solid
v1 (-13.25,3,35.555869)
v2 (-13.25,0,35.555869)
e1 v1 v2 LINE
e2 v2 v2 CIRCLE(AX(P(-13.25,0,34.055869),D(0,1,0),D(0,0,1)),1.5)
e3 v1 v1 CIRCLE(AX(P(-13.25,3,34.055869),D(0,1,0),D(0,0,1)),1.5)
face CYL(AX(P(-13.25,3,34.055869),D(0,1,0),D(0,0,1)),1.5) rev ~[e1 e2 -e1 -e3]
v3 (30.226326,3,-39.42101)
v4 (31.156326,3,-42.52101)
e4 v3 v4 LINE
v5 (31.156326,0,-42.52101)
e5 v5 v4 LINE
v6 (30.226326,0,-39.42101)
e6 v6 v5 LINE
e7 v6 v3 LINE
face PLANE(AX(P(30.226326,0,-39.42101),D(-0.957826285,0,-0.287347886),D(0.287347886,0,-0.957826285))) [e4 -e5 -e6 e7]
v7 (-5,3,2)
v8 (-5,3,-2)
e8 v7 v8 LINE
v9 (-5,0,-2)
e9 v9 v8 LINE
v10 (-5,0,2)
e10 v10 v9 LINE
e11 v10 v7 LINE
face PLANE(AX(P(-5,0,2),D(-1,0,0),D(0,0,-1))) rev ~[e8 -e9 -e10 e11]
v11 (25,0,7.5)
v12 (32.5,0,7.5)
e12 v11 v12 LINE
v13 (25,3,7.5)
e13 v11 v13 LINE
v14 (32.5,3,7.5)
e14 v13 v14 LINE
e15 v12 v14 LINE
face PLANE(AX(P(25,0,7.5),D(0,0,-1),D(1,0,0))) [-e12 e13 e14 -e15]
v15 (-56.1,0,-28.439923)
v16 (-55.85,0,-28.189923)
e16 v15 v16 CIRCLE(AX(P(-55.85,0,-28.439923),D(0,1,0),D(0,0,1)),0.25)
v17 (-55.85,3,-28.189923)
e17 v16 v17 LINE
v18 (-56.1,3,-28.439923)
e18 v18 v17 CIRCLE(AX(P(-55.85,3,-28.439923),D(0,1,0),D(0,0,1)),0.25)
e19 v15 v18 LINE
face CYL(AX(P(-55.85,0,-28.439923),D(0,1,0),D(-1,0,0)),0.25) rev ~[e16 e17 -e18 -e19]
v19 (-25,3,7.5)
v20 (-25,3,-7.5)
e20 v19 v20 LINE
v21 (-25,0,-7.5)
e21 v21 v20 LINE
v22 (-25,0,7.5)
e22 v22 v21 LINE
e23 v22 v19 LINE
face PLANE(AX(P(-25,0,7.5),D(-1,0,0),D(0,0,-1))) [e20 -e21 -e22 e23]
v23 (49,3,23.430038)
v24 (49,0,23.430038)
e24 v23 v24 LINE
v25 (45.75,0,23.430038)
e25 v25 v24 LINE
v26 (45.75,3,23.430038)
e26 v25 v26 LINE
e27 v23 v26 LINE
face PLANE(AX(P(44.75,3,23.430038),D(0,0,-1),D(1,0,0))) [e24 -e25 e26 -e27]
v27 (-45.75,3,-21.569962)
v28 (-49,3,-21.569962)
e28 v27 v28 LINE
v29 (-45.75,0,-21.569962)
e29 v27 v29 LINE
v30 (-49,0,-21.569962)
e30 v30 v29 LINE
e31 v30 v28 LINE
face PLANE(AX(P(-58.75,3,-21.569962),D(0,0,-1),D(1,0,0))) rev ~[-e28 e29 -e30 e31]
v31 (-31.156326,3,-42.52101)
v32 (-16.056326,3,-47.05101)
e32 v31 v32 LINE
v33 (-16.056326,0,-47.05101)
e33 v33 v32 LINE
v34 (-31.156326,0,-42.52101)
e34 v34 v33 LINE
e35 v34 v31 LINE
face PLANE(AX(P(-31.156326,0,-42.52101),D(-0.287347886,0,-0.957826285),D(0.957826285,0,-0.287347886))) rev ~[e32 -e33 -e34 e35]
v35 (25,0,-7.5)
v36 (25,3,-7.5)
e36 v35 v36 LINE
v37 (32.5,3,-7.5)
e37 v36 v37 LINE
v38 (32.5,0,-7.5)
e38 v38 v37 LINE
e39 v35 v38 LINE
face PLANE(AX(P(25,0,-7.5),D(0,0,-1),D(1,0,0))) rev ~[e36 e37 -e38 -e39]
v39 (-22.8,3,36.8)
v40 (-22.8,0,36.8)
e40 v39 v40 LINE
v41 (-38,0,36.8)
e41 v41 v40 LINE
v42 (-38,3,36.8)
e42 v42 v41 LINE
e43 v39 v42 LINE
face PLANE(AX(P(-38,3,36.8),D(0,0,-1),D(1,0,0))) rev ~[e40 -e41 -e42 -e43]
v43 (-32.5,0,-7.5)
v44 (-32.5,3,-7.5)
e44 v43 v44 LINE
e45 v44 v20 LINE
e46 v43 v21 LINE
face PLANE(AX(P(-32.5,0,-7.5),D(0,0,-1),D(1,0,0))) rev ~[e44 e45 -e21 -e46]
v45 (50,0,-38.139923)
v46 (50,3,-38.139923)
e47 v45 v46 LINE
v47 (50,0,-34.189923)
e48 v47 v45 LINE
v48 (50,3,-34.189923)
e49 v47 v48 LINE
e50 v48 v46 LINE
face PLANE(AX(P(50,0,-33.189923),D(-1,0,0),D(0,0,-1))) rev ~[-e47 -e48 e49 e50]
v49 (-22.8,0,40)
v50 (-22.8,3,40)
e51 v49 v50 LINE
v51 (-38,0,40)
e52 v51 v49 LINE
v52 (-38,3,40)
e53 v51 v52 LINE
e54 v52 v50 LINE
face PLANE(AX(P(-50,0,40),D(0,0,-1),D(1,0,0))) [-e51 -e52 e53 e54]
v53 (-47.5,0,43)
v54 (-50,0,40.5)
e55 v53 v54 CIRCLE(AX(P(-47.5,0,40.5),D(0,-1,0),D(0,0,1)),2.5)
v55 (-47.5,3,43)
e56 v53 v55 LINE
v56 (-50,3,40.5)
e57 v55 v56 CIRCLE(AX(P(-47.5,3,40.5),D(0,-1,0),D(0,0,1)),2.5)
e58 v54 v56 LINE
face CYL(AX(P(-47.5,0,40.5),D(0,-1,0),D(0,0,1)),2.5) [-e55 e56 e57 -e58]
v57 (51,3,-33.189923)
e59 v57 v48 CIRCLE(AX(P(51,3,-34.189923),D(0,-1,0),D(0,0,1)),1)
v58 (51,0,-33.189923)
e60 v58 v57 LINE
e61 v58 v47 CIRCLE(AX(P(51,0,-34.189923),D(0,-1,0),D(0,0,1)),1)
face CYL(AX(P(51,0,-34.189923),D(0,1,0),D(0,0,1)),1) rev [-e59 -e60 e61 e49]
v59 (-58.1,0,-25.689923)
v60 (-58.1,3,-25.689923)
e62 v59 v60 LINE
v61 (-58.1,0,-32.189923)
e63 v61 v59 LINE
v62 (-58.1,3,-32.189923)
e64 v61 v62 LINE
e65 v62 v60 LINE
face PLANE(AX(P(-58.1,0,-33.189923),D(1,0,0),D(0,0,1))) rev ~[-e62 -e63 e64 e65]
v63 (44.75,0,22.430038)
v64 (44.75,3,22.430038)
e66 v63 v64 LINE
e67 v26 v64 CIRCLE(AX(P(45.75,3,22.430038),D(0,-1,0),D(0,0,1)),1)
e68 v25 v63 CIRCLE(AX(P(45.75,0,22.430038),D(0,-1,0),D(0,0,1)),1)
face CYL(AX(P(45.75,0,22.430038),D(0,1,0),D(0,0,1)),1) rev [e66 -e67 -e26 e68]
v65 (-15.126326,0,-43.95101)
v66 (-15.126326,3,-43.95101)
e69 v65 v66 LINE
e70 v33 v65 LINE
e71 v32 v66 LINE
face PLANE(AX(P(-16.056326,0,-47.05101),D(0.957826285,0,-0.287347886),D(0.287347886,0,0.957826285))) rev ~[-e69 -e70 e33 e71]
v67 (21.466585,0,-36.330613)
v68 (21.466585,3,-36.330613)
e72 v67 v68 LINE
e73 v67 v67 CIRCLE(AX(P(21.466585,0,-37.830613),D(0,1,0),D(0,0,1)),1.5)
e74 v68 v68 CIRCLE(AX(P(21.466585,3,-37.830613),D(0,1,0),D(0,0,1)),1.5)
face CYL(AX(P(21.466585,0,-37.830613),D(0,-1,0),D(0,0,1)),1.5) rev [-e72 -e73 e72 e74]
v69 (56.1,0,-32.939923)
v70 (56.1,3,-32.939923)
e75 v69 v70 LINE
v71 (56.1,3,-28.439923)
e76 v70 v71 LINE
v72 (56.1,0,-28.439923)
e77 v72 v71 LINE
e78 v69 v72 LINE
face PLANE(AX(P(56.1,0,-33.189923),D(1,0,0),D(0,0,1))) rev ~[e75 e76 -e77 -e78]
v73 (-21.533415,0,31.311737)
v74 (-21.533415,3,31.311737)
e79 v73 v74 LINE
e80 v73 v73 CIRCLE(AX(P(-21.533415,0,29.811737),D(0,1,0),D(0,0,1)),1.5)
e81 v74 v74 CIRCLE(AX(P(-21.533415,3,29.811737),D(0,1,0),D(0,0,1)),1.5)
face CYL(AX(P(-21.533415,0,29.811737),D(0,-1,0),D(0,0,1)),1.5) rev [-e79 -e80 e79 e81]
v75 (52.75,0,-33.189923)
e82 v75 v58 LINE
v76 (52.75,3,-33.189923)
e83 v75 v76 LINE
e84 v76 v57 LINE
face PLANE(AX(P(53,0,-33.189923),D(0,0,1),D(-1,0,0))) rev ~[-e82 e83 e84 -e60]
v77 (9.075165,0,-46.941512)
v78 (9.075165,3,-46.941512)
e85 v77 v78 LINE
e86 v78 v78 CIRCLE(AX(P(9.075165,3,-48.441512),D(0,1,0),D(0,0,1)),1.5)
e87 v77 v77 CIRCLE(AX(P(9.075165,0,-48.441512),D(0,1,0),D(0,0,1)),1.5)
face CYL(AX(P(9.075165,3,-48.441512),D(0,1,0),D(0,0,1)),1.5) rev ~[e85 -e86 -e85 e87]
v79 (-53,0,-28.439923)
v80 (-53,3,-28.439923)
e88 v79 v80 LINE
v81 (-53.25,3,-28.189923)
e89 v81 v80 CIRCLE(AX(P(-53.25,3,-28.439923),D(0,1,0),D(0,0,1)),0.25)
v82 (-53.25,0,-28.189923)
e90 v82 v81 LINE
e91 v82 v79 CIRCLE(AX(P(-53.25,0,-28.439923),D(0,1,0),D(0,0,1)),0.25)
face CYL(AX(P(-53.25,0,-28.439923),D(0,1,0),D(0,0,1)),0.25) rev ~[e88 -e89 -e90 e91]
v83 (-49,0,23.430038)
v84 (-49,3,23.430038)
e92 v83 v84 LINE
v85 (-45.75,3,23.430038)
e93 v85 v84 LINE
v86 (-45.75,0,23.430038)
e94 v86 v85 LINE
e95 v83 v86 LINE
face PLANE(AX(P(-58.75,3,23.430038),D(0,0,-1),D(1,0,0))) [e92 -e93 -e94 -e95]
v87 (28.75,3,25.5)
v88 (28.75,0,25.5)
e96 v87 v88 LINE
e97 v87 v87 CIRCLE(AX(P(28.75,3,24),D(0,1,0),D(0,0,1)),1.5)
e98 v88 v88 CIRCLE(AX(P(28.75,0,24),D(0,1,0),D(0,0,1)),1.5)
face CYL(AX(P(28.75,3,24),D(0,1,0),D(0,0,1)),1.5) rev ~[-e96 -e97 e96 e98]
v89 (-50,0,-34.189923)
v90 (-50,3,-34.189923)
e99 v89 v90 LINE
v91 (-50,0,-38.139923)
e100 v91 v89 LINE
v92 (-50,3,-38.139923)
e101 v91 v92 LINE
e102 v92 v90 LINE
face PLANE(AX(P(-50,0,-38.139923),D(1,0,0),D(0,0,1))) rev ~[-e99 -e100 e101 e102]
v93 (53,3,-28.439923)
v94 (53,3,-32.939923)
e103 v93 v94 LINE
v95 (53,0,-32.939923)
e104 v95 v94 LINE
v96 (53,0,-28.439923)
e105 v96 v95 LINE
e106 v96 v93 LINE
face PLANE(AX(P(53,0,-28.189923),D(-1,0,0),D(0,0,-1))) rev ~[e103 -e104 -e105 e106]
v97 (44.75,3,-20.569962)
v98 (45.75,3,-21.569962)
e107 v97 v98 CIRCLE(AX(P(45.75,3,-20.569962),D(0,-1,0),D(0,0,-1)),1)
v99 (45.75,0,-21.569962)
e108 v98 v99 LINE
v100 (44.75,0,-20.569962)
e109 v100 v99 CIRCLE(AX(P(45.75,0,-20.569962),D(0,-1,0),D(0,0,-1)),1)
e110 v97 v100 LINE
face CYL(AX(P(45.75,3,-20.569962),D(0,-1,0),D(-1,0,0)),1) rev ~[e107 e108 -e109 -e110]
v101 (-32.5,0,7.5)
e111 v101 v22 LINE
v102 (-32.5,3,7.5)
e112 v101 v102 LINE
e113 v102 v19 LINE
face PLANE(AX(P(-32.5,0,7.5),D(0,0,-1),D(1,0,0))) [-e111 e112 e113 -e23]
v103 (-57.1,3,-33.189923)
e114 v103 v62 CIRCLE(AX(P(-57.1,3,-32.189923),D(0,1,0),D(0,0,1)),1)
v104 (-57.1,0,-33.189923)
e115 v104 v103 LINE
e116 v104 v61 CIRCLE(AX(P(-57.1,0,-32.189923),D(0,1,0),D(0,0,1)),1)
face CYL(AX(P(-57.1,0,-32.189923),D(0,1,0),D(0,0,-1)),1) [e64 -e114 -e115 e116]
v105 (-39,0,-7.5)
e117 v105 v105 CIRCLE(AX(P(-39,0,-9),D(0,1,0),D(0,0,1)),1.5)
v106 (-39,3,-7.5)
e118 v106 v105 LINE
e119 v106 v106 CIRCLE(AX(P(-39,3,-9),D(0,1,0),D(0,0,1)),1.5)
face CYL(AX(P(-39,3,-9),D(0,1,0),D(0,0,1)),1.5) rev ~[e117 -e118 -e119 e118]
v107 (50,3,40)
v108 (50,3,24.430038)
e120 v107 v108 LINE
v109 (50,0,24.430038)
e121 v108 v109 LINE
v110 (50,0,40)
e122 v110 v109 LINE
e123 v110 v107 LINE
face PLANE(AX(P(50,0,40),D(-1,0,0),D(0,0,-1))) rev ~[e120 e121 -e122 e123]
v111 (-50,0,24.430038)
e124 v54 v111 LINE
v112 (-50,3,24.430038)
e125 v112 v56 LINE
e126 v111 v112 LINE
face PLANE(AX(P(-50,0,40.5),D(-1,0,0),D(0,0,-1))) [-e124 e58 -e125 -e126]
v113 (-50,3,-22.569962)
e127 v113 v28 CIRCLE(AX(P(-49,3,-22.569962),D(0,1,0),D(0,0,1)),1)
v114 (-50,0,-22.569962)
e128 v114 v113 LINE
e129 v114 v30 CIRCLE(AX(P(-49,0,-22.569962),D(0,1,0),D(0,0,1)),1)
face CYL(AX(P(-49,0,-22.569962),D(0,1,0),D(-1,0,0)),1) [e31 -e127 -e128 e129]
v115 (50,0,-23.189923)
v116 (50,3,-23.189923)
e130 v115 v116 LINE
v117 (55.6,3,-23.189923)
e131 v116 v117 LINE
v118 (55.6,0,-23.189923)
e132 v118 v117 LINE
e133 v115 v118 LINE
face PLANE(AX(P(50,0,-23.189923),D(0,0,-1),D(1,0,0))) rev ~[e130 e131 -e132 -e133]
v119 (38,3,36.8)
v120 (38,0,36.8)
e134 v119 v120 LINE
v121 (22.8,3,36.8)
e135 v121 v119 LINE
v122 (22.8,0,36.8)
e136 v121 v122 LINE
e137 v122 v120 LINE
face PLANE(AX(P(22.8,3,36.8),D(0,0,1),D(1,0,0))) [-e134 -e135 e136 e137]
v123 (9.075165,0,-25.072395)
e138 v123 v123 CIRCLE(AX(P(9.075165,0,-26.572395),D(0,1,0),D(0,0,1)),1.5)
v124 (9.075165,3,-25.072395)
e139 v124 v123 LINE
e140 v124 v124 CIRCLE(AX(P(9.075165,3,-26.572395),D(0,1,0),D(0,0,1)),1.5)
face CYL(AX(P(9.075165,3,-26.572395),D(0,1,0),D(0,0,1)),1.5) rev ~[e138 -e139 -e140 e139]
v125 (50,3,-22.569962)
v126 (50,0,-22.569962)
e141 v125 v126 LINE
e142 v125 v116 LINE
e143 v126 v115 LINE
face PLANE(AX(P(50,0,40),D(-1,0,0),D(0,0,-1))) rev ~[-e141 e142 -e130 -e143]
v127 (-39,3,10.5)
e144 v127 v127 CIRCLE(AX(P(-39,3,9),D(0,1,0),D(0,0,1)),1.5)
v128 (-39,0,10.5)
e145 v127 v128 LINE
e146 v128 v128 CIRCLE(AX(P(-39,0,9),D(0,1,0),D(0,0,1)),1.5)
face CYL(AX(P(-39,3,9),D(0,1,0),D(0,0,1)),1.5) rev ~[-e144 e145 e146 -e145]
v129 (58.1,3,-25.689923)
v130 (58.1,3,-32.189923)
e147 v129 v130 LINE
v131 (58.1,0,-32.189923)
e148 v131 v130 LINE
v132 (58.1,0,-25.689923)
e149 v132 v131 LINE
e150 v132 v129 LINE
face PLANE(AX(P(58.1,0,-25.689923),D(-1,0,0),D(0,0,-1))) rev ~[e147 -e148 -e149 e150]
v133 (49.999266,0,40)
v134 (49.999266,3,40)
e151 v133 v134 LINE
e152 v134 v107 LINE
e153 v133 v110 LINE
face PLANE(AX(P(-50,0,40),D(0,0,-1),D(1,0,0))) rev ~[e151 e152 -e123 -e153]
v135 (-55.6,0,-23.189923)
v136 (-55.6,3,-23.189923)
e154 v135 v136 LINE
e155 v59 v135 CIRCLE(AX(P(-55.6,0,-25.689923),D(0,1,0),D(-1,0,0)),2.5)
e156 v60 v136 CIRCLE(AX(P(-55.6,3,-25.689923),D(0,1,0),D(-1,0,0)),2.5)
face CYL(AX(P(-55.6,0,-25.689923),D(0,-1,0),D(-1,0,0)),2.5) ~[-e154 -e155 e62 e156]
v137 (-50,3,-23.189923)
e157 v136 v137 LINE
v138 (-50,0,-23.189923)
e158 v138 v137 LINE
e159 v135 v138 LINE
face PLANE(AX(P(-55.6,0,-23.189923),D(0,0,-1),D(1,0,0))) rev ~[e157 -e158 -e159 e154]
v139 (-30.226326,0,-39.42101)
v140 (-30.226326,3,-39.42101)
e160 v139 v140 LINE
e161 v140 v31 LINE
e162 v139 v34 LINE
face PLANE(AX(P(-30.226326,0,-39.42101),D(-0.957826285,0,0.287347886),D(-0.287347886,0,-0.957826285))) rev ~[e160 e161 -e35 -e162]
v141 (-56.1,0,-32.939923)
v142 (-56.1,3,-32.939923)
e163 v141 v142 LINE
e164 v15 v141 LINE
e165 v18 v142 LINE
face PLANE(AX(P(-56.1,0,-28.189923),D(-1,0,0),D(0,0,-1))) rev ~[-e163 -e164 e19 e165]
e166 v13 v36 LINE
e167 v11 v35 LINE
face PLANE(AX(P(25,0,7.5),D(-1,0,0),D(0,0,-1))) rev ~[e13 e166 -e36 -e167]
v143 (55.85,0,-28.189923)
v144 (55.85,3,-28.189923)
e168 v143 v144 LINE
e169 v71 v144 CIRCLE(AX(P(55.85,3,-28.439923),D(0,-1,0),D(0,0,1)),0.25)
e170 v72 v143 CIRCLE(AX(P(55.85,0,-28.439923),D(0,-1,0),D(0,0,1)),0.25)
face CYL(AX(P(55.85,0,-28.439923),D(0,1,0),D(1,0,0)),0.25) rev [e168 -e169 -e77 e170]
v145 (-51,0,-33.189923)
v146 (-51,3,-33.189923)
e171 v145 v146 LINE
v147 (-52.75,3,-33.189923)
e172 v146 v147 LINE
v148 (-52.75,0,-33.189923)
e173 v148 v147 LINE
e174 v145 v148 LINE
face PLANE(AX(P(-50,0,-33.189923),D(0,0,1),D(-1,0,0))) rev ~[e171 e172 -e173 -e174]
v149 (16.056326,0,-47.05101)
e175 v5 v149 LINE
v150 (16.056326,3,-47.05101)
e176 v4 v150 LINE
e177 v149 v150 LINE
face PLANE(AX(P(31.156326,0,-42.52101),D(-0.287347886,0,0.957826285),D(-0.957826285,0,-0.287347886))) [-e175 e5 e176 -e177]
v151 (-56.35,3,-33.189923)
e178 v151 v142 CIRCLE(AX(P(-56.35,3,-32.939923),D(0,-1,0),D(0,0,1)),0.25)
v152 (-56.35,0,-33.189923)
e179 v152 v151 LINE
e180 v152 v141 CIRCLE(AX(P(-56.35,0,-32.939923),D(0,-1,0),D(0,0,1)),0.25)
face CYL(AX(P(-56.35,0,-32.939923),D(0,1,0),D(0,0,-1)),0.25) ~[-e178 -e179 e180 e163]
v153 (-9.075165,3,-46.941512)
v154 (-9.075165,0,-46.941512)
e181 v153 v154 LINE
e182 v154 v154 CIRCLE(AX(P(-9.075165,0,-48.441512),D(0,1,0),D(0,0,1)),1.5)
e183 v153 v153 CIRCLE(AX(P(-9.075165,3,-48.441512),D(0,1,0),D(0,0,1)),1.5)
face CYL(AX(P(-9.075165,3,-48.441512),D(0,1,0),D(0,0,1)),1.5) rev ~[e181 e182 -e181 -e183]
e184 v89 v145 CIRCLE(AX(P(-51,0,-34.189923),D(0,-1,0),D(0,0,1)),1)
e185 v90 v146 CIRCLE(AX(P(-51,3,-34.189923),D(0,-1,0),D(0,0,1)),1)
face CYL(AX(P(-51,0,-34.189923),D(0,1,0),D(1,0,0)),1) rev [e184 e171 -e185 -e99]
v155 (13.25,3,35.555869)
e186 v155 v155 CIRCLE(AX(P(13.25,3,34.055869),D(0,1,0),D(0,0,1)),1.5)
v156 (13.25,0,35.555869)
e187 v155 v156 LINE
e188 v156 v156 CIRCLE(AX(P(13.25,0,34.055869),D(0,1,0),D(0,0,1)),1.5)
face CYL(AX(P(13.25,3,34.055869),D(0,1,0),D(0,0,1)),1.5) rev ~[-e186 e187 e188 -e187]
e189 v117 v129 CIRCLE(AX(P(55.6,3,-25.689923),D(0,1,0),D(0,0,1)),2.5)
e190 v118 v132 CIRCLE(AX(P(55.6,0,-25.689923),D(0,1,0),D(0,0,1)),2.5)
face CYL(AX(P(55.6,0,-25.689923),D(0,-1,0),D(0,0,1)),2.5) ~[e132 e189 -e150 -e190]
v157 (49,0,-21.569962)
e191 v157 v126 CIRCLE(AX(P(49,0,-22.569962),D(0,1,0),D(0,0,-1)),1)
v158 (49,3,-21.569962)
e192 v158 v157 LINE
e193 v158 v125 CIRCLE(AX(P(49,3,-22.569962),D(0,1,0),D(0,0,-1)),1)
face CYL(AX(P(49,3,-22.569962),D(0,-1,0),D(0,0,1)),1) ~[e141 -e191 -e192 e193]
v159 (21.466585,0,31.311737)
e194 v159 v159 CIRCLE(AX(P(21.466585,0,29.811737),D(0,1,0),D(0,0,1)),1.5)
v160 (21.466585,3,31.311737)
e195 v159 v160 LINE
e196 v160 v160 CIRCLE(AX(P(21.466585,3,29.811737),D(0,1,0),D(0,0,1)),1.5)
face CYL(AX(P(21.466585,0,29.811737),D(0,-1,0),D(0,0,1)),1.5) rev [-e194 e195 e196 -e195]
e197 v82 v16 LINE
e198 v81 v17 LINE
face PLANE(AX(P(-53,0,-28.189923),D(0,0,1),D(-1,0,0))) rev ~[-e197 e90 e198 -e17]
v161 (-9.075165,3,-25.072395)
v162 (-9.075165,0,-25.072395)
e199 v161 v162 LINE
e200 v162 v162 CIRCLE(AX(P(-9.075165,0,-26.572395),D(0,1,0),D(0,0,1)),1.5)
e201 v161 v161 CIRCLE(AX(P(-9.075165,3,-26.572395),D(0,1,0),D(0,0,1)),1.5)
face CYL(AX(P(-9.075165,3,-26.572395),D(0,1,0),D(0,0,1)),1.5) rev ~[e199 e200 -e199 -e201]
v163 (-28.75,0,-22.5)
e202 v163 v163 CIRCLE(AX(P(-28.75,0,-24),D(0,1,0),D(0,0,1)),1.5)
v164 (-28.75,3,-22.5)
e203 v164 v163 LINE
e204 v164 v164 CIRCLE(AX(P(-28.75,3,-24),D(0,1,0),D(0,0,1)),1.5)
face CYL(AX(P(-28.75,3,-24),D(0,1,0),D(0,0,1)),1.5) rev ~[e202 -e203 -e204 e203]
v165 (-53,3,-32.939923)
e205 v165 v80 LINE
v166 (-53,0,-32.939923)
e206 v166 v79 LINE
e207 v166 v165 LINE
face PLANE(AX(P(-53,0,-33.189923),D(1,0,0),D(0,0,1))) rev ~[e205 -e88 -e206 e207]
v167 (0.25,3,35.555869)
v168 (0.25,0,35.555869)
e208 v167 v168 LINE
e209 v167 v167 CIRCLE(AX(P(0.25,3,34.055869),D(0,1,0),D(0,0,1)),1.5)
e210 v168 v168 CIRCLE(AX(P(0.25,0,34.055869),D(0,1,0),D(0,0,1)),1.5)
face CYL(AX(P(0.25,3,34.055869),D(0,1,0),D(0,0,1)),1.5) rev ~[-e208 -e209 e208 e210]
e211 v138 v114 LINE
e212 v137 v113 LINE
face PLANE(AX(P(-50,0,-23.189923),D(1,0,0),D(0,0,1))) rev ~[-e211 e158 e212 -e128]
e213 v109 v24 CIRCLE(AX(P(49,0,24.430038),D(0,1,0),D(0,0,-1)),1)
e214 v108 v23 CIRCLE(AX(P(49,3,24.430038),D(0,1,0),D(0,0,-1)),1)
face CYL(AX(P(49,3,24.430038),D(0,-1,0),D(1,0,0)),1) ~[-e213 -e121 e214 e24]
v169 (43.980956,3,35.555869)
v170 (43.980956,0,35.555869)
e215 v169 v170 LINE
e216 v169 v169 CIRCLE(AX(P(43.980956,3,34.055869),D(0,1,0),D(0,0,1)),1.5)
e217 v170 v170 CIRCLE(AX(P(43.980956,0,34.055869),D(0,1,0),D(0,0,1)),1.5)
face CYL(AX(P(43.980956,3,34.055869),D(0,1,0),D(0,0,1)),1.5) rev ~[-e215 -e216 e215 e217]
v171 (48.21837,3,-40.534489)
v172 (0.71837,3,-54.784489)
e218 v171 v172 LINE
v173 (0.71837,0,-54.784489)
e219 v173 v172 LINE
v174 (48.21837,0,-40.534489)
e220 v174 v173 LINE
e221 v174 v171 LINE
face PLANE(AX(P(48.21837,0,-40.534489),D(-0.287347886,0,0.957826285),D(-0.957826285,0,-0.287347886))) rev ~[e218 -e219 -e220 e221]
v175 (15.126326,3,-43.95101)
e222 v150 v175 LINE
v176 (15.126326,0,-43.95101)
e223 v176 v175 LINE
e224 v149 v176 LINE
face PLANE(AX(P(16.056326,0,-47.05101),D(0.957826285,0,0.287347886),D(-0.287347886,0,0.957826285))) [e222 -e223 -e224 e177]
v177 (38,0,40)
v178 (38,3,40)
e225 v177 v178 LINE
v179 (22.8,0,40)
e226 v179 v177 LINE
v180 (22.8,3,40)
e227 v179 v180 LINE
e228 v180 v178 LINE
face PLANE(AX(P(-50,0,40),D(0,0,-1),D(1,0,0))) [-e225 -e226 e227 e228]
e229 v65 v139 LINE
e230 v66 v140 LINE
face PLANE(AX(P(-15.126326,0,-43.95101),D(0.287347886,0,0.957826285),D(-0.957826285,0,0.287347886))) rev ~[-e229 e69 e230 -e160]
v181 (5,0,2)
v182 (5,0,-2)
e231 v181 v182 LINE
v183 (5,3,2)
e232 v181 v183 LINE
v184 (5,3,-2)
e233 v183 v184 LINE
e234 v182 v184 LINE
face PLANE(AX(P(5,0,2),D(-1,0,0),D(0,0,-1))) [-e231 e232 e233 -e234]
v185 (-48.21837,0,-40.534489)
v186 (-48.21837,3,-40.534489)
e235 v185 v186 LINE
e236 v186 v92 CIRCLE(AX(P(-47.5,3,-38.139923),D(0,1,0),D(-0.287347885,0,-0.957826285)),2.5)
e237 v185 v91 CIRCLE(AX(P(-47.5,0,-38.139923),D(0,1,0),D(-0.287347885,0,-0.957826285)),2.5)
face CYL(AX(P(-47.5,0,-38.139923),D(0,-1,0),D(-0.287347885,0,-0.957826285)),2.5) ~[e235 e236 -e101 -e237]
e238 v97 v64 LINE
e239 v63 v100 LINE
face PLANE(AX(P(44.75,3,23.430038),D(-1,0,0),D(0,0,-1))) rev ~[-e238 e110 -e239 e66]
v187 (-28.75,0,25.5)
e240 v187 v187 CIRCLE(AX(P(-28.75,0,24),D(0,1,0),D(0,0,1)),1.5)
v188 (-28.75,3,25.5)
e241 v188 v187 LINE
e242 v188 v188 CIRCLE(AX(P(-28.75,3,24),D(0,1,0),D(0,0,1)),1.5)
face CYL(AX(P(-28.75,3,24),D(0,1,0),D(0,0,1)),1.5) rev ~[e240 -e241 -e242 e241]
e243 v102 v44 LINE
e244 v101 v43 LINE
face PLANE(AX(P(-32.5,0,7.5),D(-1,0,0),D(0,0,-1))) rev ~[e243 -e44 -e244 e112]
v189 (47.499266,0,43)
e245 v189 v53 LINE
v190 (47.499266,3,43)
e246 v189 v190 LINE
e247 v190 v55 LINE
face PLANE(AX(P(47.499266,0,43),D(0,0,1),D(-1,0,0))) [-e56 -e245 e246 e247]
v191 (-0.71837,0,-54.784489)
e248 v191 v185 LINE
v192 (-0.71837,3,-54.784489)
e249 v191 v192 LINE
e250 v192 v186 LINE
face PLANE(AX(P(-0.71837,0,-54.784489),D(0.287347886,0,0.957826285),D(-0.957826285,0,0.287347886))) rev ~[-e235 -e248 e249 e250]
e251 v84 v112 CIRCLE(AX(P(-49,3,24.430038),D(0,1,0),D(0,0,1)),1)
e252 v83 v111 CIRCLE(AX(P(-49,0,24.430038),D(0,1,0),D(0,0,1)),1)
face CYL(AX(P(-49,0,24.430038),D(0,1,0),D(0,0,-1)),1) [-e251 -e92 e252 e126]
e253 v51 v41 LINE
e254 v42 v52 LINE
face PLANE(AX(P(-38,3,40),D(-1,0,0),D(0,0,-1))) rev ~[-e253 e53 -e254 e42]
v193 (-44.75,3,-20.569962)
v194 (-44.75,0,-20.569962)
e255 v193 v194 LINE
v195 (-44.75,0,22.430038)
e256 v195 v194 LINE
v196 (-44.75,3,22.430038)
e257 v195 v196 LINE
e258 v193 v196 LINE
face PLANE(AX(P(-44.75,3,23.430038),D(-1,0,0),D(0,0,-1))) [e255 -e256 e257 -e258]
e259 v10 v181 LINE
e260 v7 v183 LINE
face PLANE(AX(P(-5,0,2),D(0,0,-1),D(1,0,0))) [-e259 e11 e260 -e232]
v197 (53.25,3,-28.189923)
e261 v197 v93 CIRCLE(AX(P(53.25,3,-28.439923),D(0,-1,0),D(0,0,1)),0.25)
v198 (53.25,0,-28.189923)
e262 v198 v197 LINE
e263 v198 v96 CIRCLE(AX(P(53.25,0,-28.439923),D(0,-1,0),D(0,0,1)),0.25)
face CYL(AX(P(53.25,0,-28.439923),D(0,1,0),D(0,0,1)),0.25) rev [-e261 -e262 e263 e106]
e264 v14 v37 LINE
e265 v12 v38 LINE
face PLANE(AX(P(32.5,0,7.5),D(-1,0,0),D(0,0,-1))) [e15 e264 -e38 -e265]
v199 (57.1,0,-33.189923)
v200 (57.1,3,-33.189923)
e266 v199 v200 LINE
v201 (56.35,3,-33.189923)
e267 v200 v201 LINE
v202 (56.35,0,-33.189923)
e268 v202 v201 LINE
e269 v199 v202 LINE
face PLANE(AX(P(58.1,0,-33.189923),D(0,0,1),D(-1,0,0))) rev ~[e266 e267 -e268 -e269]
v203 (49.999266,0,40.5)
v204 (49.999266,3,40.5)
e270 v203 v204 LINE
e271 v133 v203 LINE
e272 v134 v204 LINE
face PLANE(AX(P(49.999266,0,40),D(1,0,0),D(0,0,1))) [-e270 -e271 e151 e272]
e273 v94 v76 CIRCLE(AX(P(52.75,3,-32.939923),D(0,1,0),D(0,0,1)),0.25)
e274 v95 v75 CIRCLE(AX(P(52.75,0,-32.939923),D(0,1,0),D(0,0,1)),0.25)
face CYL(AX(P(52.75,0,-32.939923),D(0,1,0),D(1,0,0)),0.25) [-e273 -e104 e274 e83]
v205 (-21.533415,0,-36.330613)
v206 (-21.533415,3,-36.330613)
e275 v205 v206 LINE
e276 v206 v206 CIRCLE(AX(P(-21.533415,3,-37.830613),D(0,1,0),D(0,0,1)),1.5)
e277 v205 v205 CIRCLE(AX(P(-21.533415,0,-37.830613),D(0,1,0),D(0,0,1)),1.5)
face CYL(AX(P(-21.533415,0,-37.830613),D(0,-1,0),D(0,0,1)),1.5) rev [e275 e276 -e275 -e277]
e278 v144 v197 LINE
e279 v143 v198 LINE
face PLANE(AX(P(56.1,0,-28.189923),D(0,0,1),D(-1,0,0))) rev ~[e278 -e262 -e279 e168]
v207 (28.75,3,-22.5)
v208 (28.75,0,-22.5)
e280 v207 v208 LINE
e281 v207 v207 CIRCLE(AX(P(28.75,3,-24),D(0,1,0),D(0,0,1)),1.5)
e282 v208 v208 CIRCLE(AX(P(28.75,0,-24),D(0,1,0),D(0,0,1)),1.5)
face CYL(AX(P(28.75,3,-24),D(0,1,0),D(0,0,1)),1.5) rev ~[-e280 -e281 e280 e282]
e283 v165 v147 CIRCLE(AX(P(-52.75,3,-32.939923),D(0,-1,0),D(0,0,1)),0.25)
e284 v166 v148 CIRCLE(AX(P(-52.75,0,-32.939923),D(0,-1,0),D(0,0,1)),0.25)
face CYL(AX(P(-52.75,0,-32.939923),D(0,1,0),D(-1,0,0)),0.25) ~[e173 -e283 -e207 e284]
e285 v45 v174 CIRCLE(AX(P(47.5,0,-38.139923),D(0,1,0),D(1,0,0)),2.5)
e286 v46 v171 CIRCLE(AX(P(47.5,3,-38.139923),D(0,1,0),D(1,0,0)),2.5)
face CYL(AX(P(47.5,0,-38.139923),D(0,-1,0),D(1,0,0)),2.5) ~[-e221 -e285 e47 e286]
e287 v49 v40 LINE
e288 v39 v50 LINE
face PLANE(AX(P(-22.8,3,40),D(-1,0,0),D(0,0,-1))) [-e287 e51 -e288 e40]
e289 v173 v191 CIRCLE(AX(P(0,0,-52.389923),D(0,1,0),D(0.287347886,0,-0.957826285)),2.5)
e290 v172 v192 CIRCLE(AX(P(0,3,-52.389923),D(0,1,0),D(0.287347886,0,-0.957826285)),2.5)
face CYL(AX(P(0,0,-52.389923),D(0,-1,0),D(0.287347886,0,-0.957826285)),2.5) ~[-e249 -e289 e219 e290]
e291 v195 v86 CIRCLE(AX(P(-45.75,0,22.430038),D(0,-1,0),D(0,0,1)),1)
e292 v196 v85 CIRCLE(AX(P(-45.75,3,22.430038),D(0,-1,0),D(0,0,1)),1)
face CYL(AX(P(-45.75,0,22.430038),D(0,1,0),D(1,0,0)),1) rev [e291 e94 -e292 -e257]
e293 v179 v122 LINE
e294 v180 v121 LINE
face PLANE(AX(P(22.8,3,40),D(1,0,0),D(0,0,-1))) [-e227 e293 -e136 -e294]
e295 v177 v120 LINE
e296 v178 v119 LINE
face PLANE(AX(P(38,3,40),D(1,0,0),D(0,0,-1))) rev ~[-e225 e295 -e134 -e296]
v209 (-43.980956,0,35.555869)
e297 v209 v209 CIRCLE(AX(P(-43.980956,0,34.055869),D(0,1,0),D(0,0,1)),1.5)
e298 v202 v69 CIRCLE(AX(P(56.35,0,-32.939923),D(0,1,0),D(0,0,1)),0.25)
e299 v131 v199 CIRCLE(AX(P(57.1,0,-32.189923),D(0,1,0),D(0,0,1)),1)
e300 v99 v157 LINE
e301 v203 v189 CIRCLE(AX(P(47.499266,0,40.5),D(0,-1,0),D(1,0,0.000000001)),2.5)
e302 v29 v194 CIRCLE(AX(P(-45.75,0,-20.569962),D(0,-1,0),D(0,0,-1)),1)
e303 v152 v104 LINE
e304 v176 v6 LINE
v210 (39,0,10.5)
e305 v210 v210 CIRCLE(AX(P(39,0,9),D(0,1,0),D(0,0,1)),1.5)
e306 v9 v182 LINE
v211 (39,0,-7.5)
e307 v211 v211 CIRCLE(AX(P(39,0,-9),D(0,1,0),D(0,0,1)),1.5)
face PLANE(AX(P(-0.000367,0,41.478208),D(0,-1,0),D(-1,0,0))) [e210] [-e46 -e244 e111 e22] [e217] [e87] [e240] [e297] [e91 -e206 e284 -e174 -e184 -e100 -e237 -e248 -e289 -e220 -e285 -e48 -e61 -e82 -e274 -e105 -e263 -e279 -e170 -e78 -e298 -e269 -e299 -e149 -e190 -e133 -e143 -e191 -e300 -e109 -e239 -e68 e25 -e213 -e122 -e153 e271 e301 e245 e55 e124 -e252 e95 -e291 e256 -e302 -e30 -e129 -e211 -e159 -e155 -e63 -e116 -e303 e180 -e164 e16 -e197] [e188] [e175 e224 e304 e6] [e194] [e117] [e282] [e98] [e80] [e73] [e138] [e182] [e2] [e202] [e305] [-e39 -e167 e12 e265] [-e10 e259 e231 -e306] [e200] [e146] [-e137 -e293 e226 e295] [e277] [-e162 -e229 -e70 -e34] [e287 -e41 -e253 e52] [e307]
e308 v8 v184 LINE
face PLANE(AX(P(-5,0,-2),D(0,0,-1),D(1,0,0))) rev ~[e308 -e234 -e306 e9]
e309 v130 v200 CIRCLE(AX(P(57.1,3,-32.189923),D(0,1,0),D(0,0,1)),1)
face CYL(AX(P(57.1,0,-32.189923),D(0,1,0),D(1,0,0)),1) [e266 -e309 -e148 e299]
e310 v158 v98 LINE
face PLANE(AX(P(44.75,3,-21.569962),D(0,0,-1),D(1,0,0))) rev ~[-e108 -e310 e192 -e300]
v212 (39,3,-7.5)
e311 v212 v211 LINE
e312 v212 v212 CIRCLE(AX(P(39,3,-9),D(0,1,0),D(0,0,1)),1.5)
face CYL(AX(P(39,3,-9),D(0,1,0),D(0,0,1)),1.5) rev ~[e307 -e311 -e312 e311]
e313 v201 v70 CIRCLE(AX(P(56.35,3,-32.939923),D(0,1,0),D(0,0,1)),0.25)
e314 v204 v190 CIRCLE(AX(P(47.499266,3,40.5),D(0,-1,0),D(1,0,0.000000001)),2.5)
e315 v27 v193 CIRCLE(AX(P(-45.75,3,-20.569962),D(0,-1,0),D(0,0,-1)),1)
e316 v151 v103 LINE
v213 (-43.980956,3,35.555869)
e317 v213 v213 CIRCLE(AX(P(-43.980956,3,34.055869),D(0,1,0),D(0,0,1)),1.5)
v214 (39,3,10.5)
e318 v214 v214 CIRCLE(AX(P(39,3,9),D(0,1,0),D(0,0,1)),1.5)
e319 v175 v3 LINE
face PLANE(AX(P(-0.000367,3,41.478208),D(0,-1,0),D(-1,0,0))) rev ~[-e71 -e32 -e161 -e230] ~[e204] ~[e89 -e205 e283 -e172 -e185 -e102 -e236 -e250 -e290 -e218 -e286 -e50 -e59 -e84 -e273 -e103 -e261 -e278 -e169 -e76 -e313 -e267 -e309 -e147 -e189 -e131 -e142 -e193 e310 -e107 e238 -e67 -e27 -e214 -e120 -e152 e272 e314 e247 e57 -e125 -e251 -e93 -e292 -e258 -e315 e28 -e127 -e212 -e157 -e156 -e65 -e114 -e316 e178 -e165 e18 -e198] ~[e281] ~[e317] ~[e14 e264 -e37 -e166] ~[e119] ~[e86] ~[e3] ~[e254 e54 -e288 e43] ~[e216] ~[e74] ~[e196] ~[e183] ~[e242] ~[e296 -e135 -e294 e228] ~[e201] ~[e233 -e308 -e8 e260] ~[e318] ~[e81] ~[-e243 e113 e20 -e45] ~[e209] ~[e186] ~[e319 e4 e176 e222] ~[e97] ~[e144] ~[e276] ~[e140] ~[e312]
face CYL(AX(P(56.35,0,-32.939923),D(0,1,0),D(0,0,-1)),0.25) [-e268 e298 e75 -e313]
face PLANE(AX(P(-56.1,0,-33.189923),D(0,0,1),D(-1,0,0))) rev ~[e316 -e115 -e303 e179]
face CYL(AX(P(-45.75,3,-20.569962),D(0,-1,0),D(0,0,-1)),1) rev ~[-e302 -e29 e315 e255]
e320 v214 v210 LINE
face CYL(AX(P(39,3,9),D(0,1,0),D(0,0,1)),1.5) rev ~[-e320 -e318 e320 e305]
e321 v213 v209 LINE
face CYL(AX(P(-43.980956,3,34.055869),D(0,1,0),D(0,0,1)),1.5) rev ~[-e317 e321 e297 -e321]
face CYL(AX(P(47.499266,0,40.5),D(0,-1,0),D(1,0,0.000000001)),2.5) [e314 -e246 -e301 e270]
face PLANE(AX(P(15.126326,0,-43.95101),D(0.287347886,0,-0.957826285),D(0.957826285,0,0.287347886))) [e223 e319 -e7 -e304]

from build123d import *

# Parameters (mm, degrees)
CROQUIS3_R              = 1.5
CROQUIS3_W              = 10
CROQUIS3_H              = 4
CROQUIS3_W_2            = 7.5
CROQUIS3_H_2            = 15
SALIENTE_EXTRUIR1_DEPTH = 3
CROQUIS4_R              = 1.5
CROQUIS4_W              = 14
CROQUIS4_H              = 45
CROQUIS4_W_2            = 15.2
CROQUIS4_H_2            = 3.2
CORTAR_EXTRUIR1_DEPTH   = 3
SALIENTE_EXTRUIR2_DEPTH = 3
REDONDEO1_R             = 1
REDONDEO2_R             = 0.25
CROQUIS9_R              = 1.5
CORTAR_EXTRUIR3_DEPTH   = 5


with BuildPart() as part:
    # Croquis3 → Saliente-Extruir1 (new body)
    with BuildSketch(Plane(origin=(0, 0, 0), x_dir=(1, 0, 0), z_dir=(0, 1, 0))):
        with BuildLine():
            Line((-50, -40), (50, -40))
            Line((50, -40), (50, 23.189923373))
            Line((50, 23.189923373), (55.6, 23.189923373))
            ThreePointArc((55.6, 23.189923373), (57.367766953, 23.92215642), (58.1, 25.689923373))
            Line((58.1, 25.689923373), (58.1, 33.189923373))
            Line((58.1, 33.189923373), (56.1, 33.189923373))
            Line((56.1, 33.189923373), (56.1, 28.189923373))
            Line((56.1, 28.189923373), (53, 28.189923373))
            Line((53, 28.189923373), (53, 33.189923373))
            Line((53, 33.189923373), (50, 33.189923373))
            Line((50, 33.189923373), (50, 38.139923373))
            ThreePointArc((50, 38.139923373), (49.505732321, 39.632249697), (48.218369714, 40.534489086))
            Line((48.218369714, 40.534489086), (0.718369714, 54.784489086))
            ThreePointArc((0.718369714, 54.784489086), (0, 54.889923373), (-0.718369714, 54.784489086))
            Line((-0.718369714, 54.784489086), (-48.218369714, 40.534489086))
            ThreePointArc((-48.218369714, 40.534489086), (-49.505732321, 39.632249697), (-50, 38.139923373))
            Line((-50, 38.139923373), (-50, 33.189923373))
            Line((-50, 33.189923373), (-53, 33.189923373))
            Line((-53, 33.189923373), (-53, 28.189923373))
            Line((-53, 28.189923373), (-56.1, 28.189923373))
            Line((-56.1, 28.189923373), (-56.1, 33.189923373))
            Line((-56.1, 33.189923373), (-58.1, 33.189923373))
            Line((-58.1, 33.189923373), (-58.1, 25.689923373))
            ThreePointArc((-58.1, 25.689923373), (-57.367766953, 23.92215642), (-55.6, 23.189923373))
            Line((-55.6, 23.189923373), (-50, 23.189923373))
            Line((-50, 23.189923373), (-50, -40))
        make_face()
        with Locations(Location((-21.533414662, 37.830612774, 0), (0, 0, 270))):
            Circle(CROQUIS3_R, mode=Mode.SUBTRACT)
        with Locations(Location((21.466585338, 37.830612774, 0), (0, 0, 270))):
            Circle(CROQUIS3_R, mode=Mode.SUBTRACT)
        with Locations(Location((21.466585338, -29.811737192, 0), (0, 0, 270))):
            Circle(CROQUIS3_R, mode=Mode.SUBTRACT)
        with Locations(Location((-21.533414662, -29.811737192, 0), (0, 0, 270))):
            Circle(CROQUIS3_R, mode=Mode.SUBTRACT)
        Rectangle(CROQUIS3_W, CROQUIS3_H, mode=Mode.SUBTRACT)
        with Locations((28.75, 0)):
            Rectangle(CROQUIS3_W_2, CROQUIS3_H_2, mode=Mode.SUBTRACT)
        with Locations((-28.75, 0)):
            Rectangle(CROQUIS3_W_2, CROQUIS3_H_2, mode=Mode.SUBTRACT)
        Polygon((-31.156326057, 42.52101023), (-16.056326057, 47.05101023), (-15.126326057, 43.95101023), (-30.226326057, 39.42101023), align=None, mode=Mode.SUBTRACT)
        Polygon((15.126326057, 43.95101023), (30.226326057, 39.42101023), (31.156326057, 42.52101023), (16.056326057, 47.05101023), align=None, mode=Mode.SUBTRACT)
    extrude(amount=SALIENTE_EXTRUIR1_DEPTH)

    # Croquis4 → Cortar-Extruir1 (cut, symmetric)
    with BuildSketch(Plane(origin=(0, 3, 0), x_dir=(1, 0, 0), z_dir=(0, 1, 0))):
        with Locations(Location((28.75, 24, 0), (0, 0, 270))):
            Circle(CROQUIS4_R)
        with Locations(Location((-28.75, 24, 0), (0, 0, 270))):
            Circle(CROQUIS4_R)
        with Locations(Location((28.75, -24, 0), (0, 0, 270))):
            Circle(CROQUIS4_R)
        with Locations(Location((-28.75, -24, 0), (0, 0, 270))):
            Circle(CROQUIS4_R)
        with Locations(Location((0.25, -34.055868596, 0), (0, 0, 270))):
            Circle(CROQUIS4_R)
        with Locations(Location((-13.25, -34.055868596, 0), (0, 0, 270))):
            Circle(CROQUIS4_R)
        with Locations(Location((13.25, -34.055868596, 0), (0, 0, 270))):
            Circle(CROQUIS4_R)
        with Locations(Location((-39, 9, 0), (0, 0, 270))):
            Circle(CROQUIS4_R)
        with Locations(Location((39, 9, 0), (0, 0, 270))):
            Circle(CROQUIS4_R)
        with Locations(Location((39, -9, 0), (0, 0, 270))):
            Circle(CROQUIS4_R)
        with Locations(Location((-39, -9, 0), (0, 0, 270))):
            Circle(CROQUIS4_R)
        with Locations(Location((-43.980956203, -34.055868596, 0), (0, 0, 270))):
            Circle(CROQUIS4_R)
        with Locations(Location((43.980956203, -34.055868596, 0), (0, 0, 270))):
            Circle(CROQUIS4_R)
        with Locations((51.75, -0.930038314)):
            Rectangle(CROQUIS4_W, CROQUIS4_H)
        with Locations((-51.75, -0.930038314)):
            Rectangle(CROQUIS4_W, CROQUIS4_H)
        with Locations((-30.4, -38.4)):
            Rectangle(CROQUIS4_W_2, CROQUIS4_H_2)
        with Locations((30.4, -38.4)):
            Rectangle(CROQUIS4_W_2, CROQUIS4_H_2)
    extrude(amount=CORTAR_EXTRUIR1_DEPTH, both=True, mode=Mode.SUBTRACT)

    # Croquis5 → Saliente-Extruir2 (add)
    with BuildSketch(Plane(origin=(0, 0, 0), x_dir=(1, 0, 0), z_dir=(0, 1, 0))):
        with BuildLine():
            Line((-50, -40), (49.999265674, -40))
            Line((49.999265674, -40), (49.999265674, -40.5))
            ThreePointArc((49.999265674, -40.5), (49.267032626, -42.267766953), (47.499265674, -43))
            Line((47.499265674, -43), (-47.5, -43))
            ThreePointArc((-47.5, -43), (-49.267766953, -42.267766953), (-50, -40.5))
            Line((-50, -40.5), (-50, -40))
        make_face()
    extrude(amount=SALIENTE_EXTRUIR2_DEPTH)

    # Redondeo1
    redondeo1_edges = [part.edges().sort_by_distance(p)[0] for p in [
        (-50, 1.5, -21.569961686),
        (-50, 1.5, 23.430038314),
        (50, 1.5, -21.569961686),
        (50, 1.5, 23.430038314),
        (-44.75, 1.5, -21.569961686),
        (-44.75, 1.5, 23.430038314),
        (44.75, 1.5, 23.430038314),
        (44.75, 1.5, -21.569961686),
        (-58.1, 1.5, -33.189923373),
        (-50, 1.5, -33.189923373),
        (50, 1.5, -33.189923373),
        (58.1, 1.5, -33.189923373),
    ]]
    fillet(redondeo1_edges, radius=REDONDEO1_R)

    # Redondeo2
    redondeo2_edges = [part.edges().sort_by_distance(p)[0] for p in [
        (-56.1, 1.5, -33.189923373),
        (-56.1, 1.5, -28.189923373),
        (-53, 1.5, -28.189923373),
        (-53, 1.5, -33.189923373),
        (53, 1.5, -33.189923373),
        (53, 1.5, -28.189923373),
        (56.1, 1.5, -28.189923373),
        (56.1, 1.5, -33.189923373),
    ]]
    fillet(redondeo2_edges, radius=REDONDEO2_R)

    # Croquis9 → Cortar-Extruir3 (cut, symmetric)
    with BuildSketch(Plane(origin=(0, 3, 0), x_dir=(1, 0, 0), z_dir=(0, 1, 0))):
        with Locations(Location((-9.075164729, 48.441511714, 0), (0, 0, 270))):
            Circle(CROQUIS9_R)
        with Locations(Location((-9.075164729, 26.572395433, 0), (0, 0, 270))):
            Circle(CROQUIS9_R)
        with Locations(Location((9.075164729, 26.572395433, 0), (0, 0, 270))):
            Circle(CROQUIS9_R)
        with Locations(Location((9.075164729, 48.441511714, 0), (0, 0, 270))):
            Circle(CROQUIS9_R)
    extrude(amount=CORTAR_EXTRUIR3_DEPTH, both=True, mode=Mode.SUBTRACT)


solid = part.part
